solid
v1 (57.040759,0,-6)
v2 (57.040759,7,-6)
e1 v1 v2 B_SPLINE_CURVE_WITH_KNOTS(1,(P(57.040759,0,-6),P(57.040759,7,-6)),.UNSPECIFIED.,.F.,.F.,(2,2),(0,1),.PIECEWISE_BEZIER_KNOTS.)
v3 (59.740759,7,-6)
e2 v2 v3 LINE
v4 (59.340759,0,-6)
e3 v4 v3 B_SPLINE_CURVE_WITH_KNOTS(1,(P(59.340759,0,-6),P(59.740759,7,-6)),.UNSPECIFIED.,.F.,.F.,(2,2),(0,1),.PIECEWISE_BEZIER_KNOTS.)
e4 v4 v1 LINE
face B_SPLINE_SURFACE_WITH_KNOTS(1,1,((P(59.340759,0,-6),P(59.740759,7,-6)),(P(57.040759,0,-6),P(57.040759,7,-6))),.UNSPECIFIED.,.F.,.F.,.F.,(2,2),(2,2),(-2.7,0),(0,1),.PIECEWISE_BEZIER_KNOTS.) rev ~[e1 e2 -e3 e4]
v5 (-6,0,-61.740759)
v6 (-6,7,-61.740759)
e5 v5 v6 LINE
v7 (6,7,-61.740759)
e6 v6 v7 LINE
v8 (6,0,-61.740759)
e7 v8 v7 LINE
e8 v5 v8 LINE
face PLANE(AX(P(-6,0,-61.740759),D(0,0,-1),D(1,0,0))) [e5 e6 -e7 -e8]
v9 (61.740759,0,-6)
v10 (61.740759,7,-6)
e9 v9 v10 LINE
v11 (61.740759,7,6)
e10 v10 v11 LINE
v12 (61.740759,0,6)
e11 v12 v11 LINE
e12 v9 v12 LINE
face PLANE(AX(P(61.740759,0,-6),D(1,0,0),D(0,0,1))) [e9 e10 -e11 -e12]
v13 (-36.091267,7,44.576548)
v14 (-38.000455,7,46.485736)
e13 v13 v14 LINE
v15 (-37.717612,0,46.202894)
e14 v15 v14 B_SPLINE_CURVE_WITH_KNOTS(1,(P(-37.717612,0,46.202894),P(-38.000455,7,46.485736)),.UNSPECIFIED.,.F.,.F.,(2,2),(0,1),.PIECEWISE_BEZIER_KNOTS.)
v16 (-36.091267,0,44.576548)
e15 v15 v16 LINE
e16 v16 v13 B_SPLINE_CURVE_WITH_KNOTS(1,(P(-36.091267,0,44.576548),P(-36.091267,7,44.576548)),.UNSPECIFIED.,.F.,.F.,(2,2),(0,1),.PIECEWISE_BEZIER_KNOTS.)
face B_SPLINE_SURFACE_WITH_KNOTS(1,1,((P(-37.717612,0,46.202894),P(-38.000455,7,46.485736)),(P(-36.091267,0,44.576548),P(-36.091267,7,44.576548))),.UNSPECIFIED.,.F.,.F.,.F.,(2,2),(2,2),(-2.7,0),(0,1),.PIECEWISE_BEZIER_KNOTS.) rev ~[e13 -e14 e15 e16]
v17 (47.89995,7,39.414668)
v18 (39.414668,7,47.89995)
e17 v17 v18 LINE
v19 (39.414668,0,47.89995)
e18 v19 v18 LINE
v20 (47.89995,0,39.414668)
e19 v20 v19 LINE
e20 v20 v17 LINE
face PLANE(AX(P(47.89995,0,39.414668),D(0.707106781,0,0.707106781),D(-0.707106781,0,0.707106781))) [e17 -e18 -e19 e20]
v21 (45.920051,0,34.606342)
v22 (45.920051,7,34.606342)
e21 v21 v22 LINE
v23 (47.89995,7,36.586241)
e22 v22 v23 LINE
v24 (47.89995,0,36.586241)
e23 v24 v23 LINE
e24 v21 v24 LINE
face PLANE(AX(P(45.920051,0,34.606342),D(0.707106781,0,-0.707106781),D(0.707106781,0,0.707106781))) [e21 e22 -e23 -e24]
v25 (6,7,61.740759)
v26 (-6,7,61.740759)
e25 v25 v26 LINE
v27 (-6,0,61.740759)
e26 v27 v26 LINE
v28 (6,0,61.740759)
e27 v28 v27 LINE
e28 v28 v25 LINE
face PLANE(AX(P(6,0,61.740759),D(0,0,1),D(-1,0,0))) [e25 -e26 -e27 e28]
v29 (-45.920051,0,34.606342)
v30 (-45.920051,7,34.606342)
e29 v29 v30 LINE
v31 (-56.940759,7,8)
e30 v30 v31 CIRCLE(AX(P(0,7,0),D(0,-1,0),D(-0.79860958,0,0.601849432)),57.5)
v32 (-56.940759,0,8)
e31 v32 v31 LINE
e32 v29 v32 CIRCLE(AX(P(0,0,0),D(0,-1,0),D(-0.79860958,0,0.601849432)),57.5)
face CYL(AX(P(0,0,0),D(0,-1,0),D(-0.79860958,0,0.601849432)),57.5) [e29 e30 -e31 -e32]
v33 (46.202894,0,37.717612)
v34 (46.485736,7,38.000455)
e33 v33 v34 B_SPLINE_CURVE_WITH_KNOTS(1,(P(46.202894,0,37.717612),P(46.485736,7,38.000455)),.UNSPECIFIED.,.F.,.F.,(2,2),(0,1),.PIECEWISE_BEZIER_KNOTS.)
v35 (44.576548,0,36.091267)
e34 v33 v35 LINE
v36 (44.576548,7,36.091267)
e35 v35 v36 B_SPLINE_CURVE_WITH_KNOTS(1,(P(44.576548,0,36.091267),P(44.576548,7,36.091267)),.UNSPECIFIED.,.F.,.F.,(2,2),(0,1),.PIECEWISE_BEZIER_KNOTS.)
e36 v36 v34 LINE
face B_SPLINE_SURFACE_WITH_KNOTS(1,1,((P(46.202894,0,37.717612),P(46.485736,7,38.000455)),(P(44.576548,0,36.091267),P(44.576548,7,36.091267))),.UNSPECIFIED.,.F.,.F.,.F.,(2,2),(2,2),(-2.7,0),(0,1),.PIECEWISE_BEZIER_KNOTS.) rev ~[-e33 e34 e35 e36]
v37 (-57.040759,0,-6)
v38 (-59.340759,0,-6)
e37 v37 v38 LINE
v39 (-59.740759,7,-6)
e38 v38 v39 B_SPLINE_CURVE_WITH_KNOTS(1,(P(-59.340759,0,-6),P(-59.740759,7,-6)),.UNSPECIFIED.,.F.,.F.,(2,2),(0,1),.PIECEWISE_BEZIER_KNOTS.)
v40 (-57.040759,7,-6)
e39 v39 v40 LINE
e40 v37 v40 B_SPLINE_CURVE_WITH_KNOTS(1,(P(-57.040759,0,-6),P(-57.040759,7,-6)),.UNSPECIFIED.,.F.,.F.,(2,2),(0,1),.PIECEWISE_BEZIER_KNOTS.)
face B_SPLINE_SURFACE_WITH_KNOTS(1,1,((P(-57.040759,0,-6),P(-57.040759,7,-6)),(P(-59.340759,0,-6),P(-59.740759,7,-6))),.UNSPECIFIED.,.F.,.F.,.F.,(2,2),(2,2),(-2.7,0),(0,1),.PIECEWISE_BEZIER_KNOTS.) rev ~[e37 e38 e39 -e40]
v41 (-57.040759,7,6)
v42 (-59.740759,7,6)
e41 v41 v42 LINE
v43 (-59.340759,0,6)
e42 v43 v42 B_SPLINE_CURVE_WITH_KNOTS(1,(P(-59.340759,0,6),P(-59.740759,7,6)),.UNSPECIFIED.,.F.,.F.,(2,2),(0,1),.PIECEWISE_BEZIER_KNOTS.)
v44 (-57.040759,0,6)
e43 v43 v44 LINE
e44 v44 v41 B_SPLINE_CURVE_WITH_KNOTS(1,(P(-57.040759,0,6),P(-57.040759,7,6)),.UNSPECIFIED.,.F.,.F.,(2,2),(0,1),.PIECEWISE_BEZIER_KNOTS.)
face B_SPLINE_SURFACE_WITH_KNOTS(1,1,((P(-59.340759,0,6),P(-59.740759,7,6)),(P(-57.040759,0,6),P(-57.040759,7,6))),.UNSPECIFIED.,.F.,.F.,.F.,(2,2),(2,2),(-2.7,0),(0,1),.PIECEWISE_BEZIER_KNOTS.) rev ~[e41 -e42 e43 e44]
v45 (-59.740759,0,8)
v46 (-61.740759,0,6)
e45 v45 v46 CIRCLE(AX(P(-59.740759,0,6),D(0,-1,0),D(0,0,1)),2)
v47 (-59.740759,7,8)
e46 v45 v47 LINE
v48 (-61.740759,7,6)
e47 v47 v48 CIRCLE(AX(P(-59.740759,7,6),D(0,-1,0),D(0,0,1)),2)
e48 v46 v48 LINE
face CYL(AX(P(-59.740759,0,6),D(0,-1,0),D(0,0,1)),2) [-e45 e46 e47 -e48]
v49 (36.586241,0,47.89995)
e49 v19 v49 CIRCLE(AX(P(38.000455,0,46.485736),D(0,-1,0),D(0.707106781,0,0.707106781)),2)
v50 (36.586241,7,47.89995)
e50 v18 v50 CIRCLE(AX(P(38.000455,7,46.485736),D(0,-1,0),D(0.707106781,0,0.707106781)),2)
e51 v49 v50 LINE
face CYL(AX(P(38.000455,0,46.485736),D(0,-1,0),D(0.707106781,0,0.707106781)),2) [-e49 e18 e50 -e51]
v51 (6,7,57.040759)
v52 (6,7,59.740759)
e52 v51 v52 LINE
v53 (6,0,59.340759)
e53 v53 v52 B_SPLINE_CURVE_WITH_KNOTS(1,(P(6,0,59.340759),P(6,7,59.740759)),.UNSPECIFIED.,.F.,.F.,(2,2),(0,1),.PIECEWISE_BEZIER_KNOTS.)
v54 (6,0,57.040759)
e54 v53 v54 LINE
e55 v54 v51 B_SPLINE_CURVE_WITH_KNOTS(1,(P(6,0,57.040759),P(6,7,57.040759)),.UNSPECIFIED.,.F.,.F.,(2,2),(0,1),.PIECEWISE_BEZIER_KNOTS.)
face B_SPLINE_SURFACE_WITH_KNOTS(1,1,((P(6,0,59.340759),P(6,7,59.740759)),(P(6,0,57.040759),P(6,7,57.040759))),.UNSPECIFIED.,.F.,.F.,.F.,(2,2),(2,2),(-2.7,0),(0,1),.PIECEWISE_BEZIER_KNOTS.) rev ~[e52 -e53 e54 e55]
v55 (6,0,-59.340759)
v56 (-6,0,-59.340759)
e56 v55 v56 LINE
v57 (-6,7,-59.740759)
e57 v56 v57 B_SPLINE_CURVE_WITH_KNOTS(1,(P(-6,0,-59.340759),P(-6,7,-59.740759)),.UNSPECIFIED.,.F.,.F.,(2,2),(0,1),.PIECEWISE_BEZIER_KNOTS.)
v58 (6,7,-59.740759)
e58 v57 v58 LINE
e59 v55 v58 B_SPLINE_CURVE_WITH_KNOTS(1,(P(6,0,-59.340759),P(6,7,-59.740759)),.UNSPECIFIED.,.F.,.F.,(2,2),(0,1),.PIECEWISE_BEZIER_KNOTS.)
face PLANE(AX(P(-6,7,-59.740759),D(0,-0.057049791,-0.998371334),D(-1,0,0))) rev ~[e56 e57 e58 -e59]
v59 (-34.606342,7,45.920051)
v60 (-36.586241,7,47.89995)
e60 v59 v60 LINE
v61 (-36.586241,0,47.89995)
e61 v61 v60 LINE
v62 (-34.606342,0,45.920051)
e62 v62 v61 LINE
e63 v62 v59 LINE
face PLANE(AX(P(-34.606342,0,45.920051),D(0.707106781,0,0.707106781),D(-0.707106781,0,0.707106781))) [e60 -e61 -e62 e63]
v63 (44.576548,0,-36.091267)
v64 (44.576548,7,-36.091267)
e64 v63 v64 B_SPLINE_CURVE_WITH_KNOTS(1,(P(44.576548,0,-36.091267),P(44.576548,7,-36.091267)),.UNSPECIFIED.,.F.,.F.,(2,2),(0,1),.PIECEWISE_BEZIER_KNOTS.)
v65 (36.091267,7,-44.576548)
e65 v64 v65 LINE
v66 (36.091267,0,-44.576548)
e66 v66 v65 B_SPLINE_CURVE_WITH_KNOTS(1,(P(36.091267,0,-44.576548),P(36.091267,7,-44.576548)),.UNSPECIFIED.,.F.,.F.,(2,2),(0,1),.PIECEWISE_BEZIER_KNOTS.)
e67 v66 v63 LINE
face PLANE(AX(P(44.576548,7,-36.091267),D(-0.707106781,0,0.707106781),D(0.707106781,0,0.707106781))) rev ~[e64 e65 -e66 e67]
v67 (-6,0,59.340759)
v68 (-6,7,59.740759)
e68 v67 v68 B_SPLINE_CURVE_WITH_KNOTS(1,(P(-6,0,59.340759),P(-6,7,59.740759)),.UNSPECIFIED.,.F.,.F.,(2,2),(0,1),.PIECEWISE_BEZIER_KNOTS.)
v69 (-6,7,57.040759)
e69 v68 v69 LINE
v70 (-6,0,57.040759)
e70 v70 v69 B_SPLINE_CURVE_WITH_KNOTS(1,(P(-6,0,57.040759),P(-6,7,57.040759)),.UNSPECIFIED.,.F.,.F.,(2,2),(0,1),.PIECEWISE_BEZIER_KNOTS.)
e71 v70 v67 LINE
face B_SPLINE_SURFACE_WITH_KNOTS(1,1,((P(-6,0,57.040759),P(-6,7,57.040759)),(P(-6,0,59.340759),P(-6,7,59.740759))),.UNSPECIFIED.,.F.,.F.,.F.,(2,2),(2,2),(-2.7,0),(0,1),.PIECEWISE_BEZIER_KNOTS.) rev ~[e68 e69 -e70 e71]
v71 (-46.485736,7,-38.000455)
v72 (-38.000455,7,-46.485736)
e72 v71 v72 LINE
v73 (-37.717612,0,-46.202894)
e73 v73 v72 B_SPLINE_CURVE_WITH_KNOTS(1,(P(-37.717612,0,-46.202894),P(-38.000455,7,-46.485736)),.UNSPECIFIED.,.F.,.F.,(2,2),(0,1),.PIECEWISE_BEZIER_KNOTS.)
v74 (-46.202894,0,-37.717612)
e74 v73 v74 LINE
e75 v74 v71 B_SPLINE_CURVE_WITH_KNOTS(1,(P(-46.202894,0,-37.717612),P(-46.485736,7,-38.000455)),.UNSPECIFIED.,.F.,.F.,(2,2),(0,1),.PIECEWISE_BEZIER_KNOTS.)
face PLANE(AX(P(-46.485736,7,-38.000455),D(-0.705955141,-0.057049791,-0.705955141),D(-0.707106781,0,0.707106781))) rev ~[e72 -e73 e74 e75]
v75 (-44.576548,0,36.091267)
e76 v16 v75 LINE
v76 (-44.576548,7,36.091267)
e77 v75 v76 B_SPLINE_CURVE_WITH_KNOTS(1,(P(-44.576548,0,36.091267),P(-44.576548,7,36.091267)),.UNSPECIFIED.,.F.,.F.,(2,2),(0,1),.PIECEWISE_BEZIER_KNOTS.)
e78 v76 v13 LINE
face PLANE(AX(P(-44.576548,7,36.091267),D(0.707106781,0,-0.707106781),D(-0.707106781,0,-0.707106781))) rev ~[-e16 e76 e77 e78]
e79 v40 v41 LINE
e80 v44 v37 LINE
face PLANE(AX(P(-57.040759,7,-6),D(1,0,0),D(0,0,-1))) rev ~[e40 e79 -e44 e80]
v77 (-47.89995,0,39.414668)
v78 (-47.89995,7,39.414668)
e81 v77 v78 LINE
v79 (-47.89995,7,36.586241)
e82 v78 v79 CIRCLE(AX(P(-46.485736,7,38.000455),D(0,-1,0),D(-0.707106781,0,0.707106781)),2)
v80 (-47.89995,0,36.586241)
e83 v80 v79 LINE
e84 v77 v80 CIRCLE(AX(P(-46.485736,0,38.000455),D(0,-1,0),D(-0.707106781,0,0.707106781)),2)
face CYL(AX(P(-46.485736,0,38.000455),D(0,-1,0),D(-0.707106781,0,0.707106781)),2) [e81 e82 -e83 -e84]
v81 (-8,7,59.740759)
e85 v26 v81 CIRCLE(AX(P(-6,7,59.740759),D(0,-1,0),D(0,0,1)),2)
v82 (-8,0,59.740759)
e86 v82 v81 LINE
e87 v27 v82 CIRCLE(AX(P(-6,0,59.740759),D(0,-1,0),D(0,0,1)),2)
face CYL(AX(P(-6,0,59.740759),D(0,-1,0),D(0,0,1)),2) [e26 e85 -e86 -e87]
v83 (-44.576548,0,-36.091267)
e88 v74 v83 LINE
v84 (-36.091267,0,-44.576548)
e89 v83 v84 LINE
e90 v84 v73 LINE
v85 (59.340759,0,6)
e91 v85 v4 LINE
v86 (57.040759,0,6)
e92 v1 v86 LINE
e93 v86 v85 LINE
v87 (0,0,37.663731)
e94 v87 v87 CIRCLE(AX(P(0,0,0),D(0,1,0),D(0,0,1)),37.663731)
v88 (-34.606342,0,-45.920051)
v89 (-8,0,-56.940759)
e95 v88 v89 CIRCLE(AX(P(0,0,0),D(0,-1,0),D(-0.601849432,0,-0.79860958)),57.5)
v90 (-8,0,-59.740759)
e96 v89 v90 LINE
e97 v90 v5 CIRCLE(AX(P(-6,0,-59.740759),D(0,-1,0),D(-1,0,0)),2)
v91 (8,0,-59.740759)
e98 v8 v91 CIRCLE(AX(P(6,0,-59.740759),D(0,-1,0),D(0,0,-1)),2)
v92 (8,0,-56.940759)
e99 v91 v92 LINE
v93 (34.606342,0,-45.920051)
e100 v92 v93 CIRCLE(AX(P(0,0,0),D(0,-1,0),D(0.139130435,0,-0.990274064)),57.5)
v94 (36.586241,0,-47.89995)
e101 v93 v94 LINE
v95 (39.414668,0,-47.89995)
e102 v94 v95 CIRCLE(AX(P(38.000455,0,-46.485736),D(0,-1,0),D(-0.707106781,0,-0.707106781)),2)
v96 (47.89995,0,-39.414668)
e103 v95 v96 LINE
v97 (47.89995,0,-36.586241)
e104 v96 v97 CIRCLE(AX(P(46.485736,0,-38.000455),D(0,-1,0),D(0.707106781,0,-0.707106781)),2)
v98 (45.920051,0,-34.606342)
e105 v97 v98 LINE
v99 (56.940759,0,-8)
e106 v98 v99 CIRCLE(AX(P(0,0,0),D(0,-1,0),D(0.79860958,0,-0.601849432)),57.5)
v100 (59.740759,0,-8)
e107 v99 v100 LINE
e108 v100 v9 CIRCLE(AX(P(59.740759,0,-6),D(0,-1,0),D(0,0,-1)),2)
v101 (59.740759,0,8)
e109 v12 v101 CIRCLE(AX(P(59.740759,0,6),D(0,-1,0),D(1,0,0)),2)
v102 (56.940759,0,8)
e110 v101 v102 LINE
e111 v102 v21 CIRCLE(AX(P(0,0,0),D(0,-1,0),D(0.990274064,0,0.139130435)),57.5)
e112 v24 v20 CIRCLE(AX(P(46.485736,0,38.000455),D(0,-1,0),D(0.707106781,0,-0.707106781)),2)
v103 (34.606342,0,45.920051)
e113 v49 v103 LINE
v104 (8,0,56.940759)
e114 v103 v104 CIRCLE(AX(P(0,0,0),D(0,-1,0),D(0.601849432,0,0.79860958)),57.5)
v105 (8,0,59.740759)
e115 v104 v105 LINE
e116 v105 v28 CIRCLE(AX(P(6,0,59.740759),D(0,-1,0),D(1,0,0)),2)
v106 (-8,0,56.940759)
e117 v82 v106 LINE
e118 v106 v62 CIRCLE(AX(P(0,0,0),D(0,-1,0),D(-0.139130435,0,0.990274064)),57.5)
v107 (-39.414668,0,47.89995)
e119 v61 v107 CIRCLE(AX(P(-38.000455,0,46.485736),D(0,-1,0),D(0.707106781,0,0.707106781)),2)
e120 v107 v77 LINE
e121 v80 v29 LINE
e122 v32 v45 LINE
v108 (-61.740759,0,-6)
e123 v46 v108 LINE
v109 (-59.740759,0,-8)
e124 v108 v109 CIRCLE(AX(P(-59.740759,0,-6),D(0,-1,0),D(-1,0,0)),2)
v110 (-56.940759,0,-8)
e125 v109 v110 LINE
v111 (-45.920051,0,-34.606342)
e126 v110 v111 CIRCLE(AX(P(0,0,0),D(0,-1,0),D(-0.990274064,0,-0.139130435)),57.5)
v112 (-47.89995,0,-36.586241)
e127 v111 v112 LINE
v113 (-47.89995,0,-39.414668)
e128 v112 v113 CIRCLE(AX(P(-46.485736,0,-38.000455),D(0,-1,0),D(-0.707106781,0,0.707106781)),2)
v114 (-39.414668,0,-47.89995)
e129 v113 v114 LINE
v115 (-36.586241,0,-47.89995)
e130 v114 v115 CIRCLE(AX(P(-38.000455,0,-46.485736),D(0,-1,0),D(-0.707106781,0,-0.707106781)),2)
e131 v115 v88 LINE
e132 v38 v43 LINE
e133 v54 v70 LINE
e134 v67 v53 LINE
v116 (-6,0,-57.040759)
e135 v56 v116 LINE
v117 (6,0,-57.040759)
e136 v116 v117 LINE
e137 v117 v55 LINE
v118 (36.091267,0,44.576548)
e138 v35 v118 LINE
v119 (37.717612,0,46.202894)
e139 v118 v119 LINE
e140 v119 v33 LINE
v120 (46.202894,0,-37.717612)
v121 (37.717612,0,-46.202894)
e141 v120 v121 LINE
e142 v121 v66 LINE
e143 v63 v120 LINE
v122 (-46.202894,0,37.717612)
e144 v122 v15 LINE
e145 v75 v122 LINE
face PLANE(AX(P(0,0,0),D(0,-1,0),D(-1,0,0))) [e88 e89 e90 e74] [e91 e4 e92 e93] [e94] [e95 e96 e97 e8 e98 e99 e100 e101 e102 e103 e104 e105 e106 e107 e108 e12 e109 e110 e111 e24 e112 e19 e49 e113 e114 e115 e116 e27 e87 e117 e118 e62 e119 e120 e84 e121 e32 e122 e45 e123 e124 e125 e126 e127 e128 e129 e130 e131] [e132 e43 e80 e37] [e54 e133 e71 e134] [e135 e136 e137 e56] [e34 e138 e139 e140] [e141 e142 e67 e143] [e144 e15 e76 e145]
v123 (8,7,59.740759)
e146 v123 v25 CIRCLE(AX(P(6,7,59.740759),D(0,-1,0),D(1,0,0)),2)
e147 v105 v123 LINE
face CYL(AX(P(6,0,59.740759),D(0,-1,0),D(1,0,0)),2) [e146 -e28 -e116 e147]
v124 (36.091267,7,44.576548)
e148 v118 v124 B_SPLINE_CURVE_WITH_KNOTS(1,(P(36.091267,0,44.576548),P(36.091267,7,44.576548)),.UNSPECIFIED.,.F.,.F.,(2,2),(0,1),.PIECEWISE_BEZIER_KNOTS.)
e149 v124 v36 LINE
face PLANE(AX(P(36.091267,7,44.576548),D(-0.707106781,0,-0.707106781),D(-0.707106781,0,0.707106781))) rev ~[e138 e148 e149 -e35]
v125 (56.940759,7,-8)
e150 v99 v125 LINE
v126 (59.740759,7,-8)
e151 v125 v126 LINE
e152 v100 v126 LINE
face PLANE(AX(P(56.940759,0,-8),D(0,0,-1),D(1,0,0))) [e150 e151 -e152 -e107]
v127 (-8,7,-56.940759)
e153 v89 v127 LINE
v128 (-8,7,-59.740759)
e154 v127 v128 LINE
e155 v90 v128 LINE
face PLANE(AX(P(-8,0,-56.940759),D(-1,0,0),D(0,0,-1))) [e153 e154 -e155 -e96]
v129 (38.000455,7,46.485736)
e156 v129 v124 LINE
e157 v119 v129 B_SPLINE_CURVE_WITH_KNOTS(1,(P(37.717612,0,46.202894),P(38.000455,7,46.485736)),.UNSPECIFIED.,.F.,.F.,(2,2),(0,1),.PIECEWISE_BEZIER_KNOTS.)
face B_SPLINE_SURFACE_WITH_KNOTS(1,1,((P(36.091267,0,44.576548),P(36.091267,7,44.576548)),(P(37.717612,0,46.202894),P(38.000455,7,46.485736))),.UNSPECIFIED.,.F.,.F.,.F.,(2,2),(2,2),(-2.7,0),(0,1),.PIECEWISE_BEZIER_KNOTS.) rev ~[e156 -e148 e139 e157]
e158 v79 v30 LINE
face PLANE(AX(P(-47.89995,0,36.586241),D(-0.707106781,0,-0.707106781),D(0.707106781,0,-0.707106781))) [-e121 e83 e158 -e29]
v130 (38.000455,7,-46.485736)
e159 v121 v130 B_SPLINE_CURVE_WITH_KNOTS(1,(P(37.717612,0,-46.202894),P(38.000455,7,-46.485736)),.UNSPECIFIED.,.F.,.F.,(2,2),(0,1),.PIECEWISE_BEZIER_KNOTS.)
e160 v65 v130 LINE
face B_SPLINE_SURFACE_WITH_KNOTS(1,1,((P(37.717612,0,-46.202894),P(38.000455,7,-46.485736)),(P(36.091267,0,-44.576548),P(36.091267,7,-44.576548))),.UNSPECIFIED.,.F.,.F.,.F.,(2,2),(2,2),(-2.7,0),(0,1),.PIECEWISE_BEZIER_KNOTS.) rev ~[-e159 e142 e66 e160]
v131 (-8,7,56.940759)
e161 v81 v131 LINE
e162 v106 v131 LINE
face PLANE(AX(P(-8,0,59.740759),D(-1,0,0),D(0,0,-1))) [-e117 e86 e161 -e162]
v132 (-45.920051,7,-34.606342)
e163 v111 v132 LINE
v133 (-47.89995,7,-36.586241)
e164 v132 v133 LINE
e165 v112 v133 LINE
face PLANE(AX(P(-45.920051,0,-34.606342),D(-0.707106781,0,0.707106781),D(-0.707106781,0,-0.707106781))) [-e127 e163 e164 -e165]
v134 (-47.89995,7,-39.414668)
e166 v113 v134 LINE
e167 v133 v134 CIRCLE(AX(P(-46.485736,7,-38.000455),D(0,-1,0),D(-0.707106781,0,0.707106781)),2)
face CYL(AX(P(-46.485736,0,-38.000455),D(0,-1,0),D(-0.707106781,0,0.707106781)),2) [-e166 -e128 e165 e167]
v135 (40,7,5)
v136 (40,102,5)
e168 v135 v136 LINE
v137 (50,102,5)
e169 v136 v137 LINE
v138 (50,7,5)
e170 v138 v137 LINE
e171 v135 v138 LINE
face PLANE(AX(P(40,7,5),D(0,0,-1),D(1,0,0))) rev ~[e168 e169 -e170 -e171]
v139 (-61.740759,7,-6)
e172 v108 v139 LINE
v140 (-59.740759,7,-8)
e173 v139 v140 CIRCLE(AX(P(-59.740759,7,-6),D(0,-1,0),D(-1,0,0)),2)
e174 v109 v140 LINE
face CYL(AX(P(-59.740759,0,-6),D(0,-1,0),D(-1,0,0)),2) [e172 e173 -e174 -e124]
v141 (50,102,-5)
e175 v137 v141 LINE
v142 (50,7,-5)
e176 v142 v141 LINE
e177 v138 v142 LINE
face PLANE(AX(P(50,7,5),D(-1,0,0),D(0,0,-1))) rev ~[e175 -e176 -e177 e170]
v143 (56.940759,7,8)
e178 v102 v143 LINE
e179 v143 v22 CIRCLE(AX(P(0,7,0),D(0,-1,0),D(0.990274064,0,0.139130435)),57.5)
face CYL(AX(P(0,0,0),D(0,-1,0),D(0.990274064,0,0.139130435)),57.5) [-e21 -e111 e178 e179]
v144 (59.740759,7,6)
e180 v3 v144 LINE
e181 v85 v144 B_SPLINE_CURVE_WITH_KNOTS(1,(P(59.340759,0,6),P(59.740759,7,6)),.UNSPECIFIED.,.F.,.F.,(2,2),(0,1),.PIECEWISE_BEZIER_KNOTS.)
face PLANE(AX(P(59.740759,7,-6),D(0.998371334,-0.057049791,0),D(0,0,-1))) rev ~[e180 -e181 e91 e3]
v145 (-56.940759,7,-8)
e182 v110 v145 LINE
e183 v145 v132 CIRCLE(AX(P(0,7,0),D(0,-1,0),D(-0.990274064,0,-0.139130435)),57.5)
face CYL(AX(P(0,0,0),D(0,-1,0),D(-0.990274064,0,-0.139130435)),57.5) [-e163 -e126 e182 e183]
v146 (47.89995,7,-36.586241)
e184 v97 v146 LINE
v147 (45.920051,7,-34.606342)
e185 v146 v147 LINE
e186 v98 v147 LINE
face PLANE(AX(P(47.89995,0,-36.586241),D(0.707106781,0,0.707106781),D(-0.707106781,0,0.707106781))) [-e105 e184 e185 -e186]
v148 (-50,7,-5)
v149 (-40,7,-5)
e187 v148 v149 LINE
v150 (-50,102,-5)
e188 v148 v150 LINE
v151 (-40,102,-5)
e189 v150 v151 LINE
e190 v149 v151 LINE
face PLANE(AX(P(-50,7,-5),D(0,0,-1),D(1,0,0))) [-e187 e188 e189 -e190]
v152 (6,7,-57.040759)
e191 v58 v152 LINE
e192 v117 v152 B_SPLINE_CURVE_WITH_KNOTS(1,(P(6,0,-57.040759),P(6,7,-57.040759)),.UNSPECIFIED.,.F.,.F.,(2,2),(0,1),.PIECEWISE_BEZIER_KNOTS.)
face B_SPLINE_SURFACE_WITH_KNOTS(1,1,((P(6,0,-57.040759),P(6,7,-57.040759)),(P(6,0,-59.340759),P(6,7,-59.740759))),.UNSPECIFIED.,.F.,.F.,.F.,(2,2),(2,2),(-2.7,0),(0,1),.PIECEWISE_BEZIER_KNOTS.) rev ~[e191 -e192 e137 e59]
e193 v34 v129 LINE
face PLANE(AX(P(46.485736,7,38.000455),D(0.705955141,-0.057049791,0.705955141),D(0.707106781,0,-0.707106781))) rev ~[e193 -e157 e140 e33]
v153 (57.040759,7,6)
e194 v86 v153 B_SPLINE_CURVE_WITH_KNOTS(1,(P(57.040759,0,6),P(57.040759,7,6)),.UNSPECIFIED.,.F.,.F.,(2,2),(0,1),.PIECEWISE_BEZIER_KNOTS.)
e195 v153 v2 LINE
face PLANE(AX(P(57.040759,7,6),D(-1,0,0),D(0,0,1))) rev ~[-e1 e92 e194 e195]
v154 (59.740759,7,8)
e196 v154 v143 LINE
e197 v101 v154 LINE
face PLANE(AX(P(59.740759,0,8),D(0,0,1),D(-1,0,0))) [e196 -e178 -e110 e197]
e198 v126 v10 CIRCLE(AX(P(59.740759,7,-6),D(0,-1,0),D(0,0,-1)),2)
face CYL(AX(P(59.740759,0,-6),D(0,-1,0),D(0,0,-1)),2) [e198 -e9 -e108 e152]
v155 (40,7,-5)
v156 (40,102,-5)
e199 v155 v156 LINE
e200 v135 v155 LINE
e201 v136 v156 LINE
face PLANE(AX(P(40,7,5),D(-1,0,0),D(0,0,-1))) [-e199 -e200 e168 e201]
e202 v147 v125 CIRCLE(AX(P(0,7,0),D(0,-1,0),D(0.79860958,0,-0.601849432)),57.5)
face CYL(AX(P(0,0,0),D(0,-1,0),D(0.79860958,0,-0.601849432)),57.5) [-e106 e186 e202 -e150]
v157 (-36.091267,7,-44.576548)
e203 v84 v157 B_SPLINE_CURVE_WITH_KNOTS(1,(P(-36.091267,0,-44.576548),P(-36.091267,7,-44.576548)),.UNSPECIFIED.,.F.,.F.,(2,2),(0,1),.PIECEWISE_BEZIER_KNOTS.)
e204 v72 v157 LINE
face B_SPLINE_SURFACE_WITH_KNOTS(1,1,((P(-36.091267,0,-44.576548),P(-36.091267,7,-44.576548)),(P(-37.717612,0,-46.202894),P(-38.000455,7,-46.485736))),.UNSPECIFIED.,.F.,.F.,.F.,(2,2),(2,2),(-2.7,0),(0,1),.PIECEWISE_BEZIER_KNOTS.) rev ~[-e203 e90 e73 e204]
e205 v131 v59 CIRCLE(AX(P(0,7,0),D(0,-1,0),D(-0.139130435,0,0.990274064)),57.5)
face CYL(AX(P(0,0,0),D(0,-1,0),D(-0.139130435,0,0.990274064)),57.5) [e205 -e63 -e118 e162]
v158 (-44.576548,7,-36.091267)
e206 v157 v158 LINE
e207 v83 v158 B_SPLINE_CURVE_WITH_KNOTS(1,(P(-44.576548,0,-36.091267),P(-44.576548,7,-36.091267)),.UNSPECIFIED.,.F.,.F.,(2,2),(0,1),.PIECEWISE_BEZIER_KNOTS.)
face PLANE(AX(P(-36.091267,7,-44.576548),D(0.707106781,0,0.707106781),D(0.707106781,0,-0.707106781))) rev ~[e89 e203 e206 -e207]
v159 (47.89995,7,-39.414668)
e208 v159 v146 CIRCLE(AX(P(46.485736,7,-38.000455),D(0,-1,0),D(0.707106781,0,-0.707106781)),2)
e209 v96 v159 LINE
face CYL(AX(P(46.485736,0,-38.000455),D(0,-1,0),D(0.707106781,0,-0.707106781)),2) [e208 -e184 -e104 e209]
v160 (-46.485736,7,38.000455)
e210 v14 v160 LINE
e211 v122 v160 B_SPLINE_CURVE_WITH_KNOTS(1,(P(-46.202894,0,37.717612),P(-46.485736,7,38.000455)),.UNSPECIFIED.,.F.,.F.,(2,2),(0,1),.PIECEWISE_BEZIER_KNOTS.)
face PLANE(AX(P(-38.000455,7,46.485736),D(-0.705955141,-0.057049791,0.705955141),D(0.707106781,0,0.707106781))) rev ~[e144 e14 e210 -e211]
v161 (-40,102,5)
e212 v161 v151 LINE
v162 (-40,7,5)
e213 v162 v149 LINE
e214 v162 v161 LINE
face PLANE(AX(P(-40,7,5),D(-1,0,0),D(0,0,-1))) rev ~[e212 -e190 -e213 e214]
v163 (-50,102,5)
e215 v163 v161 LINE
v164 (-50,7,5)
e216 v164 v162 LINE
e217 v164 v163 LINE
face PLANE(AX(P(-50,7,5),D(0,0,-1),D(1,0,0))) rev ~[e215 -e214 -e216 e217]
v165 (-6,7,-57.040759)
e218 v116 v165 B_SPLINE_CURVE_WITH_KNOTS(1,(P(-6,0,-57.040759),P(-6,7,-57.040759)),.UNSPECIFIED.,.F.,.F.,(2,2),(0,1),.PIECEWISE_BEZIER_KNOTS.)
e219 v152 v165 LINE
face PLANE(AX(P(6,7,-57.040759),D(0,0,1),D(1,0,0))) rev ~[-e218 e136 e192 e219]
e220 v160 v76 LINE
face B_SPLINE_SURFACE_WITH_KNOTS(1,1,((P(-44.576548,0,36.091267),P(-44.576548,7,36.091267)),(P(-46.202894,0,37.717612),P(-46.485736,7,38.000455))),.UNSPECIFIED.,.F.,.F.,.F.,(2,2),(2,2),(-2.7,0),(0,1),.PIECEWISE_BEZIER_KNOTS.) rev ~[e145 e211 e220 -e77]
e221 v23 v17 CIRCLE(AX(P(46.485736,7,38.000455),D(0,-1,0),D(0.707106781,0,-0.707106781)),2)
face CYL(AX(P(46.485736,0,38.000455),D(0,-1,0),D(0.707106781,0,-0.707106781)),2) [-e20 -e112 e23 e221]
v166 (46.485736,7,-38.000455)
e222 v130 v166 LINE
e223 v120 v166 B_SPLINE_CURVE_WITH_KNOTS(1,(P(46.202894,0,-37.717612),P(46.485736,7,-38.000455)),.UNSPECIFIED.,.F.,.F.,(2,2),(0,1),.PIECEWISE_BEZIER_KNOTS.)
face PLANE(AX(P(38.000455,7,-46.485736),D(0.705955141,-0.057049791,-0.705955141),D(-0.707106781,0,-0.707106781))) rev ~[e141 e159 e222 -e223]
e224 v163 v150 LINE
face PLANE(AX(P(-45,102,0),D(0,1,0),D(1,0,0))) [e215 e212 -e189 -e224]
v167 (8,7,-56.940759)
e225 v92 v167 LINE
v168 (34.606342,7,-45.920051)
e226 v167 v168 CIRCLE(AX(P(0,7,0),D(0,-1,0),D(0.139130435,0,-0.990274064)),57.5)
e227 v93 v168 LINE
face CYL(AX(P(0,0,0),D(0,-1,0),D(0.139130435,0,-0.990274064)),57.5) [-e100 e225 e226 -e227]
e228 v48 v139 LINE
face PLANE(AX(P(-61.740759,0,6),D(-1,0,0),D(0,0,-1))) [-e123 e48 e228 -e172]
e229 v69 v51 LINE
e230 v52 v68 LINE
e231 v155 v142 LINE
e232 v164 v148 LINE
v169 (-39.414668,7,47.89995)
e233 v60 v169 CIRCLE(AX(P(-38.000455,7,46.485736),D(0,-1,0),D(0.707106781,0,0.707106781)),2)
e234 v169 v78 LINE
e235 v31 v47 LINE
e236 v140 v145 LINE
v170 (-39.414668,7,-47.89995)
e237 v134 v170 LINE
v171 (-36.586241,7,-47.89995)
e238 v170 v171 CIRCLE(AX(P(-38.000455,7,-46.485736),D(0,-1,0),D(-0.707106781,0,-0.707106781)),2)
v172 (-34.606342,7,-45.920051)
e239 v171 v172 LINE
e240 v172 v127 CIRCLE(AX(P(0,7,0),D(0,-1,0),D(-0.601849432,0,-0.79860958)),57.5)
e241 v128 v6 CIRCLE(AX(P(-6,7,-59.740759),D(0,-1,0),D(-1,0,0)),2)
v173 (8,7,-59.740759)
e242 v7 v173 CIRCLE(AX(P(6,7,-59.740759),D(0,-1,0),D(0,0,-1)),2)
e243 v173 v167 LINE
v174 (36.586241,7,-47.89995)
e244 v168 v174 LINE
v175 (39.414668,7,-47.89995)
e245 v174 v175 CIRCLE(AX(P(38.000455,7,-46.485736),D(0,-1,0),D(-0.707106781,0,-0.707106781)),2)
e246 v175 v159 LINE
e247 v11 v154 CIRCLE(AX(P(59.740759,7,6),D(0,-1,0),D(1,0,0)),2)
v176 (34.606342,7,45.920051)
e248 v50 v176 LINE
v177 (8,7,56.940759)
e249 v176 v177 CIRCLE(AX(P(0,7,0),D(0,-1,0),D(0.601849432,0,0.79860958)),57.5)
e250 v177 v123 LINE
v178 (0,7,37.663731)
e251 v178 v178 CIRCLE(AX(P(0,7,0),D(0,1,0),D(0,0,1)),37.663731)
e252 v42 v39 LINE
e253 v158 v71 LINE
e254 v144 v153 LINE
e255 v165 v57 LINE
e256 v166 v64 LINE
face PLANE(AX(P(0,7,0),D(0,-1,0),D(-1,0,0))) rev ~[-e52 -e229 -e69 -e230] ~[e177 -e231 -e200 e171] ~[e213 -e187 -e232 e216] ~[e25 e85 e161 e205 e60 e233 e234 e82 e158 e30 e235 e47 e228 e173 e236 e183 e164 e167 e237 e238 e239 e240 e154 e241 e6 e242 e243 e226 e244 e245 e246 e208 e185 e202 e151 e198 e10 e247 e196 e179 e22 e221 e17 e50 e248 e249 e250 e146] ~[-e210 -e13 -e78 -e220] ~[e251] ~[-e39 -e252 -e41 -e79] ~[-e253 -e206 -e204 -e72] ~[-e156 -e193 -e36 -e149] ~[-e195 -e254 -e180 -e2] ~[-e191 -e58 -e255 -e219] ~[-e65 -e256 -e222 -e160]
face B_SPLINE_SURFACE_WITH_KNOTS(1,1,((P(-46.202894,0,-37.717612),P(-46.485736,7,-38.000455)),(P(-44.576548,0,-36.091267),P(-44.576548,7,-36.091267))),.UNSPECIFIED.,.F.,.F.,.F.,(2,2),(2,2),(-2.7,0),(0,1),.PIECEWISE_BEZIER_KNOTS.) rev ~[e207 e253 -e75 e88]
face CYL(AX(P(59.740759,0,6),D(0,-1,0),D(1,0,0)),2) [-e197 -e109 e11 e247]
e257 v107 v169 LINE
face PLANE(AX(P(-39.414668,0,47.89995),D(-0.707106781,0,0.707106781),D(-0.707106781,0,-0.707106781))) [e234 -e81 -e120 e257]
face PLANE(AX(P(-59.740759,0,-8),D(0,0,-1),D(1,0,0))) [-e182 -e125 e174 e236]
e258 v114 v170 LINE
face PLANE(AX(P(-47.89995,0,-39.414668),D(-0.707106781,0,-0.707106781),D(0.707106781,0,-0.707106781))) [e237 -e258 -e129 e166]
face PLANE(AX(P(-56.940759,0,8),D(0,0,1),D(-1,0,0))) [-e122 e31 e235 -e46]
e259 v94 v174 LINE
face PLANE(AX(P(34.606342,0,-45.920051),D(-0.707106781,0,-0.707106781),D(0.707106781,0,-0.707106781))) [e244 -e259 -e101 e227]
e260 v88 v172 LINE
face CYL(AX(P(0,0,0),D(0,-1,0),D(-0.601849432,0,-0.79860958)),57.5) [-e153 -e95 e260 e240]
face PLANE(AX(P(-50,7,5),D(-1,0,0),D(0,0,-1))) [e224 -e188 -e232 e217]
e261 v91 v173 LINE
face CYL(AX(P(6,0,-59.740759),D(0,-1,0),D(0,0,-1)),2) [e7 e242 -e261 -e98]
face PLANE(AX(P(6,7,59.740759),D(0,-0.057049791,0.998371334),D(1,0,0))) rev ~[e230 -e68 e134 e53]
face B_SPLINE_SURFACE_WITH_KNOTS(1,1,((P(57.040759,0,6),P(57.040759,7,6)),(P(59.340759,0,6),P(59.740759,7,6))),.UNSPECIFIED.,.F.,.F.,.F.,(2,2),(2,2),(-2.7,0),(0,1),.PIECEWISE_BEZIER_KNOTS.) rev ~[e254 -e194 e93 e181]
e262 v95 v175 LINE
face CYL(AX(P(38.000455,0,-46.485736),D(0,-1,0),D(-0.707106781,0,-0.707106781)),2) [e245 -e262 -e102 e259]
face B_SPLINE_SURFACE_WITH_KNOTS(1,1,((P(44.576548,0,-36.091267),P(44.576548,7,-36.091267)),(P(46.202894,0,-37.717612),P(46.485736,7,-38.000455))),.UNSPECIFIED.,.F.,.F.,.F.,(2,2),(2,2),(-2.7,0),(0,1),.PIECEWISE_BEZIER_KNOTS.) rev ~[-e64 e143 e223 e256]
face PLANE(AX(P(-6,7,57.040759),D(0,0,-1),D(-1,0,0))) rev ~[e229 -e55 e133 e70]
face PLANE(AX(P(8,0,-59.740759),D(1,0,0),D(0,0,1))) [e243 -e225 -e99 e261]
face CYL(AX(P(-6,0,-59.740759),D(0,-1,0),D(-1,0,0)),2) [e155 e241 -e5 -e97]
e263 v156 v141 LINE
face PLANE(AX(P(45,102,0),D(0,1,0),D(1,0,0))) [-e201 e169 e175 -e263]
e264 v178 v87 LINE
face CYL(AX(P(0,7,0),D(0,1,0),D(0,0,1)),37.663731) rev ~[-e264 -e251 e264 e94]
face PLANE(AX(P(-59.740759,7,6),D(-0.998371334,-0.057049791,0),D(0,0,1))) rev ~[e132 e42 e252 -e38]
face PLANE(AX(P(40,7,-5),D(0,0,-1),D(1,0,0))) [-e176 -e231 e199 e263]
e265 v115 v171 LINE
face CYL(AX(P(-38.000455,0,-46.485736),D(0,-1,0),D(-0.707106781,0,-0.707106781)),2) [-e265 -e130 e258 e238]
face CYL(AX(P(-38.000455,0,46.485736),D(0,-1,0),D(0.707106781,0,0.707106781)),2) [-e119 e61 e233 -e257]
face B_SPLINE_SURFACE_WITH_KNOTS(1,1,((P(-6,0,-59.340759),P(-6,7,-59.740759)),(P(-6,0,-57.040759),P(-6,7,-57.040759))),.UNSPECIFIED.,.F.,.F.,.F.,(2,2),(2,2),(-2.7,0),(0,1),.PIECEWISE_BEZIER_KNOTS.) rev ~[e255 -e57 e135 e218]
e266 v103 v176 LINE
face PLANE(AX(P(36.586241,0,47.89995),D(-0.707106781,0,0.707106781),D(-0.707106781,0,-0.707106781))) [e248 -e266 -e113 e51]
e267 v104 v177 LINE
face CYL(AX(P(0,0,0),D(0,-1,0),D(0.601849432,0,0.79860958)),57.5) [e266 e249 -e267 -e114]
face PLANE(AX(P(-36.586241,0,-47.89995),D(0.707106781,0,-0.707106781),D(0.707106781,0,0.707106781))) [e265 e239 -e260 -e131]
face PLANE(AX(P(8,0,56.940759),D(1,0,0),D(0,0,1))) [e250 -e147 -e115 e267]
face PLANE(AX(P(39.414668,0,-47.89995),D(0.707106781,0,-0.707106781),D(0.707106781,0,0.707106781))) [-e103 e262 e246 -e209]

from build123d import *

# Parameters (mm, degrees)
BOSS_EXTRUDE1_DEPTH = 7
SKETCH2_W           = 10
SKETCH2_H           = 10
BOSS_EXTRUDE2_DEPTH = 95
SKETCH3_R           = 37.663730654
CUT_EXTRUDE1_DEPTH  = 130.030393965
CIRPATTERN1_COUNT   = 8


with BuildPart() as part:
    # Sketch1 → Boss-Extrude1 (new body)
    with BuildSketch(Plane(origin=(0, 0, 0), x_dir=(1, 0, 0), z_dir=(0, 1, 0))):
        with BuildLine():
            Line((-8, 56.940758688), (-8, 59.740758688))
            ThreePointArc((-8, 59.740758688), (-7.414213562, 61.154972251), (-6, 61.740758688))
            Line((-6, 61.740758688), (6, 61.740758688))
            ThreePointArc((6, 61.740758688), (7.414213562, 61.154972251), (8, 59.740758688))
            Line((8, 59.740758688), (8, 56.940758688))
            ThreePointArc((8, 56.940758688), (22.004297361, 53.123073119), (34.606342345, 45.920050844))
            Line((34.606342345, 45.920050844), (36.586241332, 47.899949831))
            ThreePointArc((36.586241332, 47.899949831), (38.000454895, 48.485736269), (39.414668457, 47.899949831))
            Line((39.414668457, 47.899949831), (47.899949831, 39.414668457))
            ThreePointArc((47.899949831, 39.414668457), (48.485736269, 38.000454895), (47.899949831, 36.586241332))
            Line((47.899949831, 36.586241332), (45.920050844, 34.606342345))
            ThreePointArc((45.920050844, 34.606342345), (53.123073119, 22.004297361), (56.940758688, 8))
            Line((56.940758688, 8), (59.740758688, 8))
            ThreePointArc((59.740758688, 8), (61.154972251, 7.414213562), (61.740758688, 6))
            Line((61.740758688, 6), (61.740758688, -6))
            ThreePointArc((61.740758688, -6), (61.154972251, -7.414213562), (59.740758688, -8))
            Line((59.740758688, -8), (56.940758688, -8))
            ThreePointArc((56.940758688, -8), (53.123073119, -22.004297361), (45.920050844, -34.606342345))
            Line((45.920050844, -34.606342345), (47.899949831, -36.586241332))
            ThreePointArc((47.899949831, -36.586241332), (48.485736269, -38.000454895), (47.899949831, -39.414668457))
            Line((47.899949831, -39.414668457), (39.414668457, -47.899949831))
            ThreePointArc((39.414668457, -47.899949831), (38.000454895, -48.485736269), (36.586241332, -47.899949831))
            Line((36.586241332, -47.899949831), (34.606342345, -45.920050844))
            ThreePointArc((34.606342345, -45.920050844), (22.004297361, -53.123073119), (8, -56.940758688))
            Line((8, -56.940758688), (8, -59.740758688))
            ThreePointArc((8, -59.740758688), (7.414213562, -61.154972251), (6, -61.740758688))
            Line((6, -61.740758688), (-6, -61.740758688))
            ThreePointArc((-6, -61.740758688), (-7.414213562, -61.154972251), (-8, -59.740758688))
            Line((-8, -59.740758688), (-8, -56.940758688))
            ThreePointArc((-8, -56.940758688), (-22.004297361, -53.123073119), (-34.606342345, -45.920050844))
            Line((-34.606342345, -45.920050844), (-36.586241332, -47.899949831))
            ThreePointArc((-36.586241332, -47.899949831), (-38.000454895, -48.485736269), (-39.414668457, -47.899949831))
            Line((-39.414668457, -47.899949831), (-47.899949831, -39.414668457))
            ThreePointArc((-47.899949831, -39.414668457), (-48.485736269, -38.000454895), (-47.899949831, -36.586241332))
            Line((-47.899949831, -36.586241332), (-45.920050844, -34.606342345))
            ThreePointArc((-45.920050844, -34.606342345), (-53.123073119, -22.004297361), (-56.940758688, -8))
            Line((-56.940758688, -8), (-59.740758688, -8))
            ThreePointArc((-59.740758688, -8), (-61.154972251, -7.414213562), (-61.740758688, -6))
            Line((-61.740758688, -6), (-61.740758688, 6))
            ThreePointArc((-61.740758688, 6), (-61.154972251, 7.414213562), (-59.740758688, 8))
            Line((-59.740758688, 8), (-56.940758688, 8))
            ThreePointArc((-56.940758688, 8), (-53.123073119, 22.004297361), (-45.920050844, 34.606342345))
            Line((-45.920050844, 34.606342345), (-47.899949831, 36.586241332))
            ThreePointArc((-47.899949831, 36.586241332), (-48.485736269, 38.000454895), (-47.899949831, 39.414668457))
            Line((-47.899949831, 39.414668457), (-39.414668457, 47.899949831))
            ThreePointArc((-39.414668457, 47.899949831), (-38.000454895, 48.485736269), (-36.586241332, 47.899949831))
            Line((-36.586241332, 47.899949831), (-34.606342345, 45.920050844))
            ThreePointArc((-34.606342345, 45.920050844), (-22.004297361, 53.123073119), (-8, 56.940758688))
        make_face()
    extrude(amount=BOSS_EXTRUDE1_DEPTH)

    # Sketch2 → Boss-Extrude2 (add)
    with BuildSketch(Plane(origin=(0, 7, 0), x_dir=(1, 0, 0), z_dir=(0, 1, 0))):
        with Locations((45, 0)):
            Rectangle(SKETCH2_W, SKETCH2_H)
        with Locations((-45, 0)):
            Rectangle(SKETCH2_W, SKETCH2_H)
    extrude(amount=BOSS_EXTRUDE2_DEPTH)

    # Sketch3 → Cut-Extrude1 (cut, through all)
    with BuildSketch(Plane(origin=(0, 7, 0), x_dir=(1, 0, 0), z_dir=(0, 1, 0))):
        with Locations(Location((0, 0, 0), (0, 0, 270))):
            Circle(SKETCH3_R)
    extrude(amount=-CUT_EXTRUDE1_DEPTH, mode=Mode.SUBTRACT)

    # Sketch7 → Cut-Loft1 section 0
    with BuildSketch(Plane.XZ):
        with BuildLine():
            Line((-6, -57.040758688), (6, -57.040758688))
            Line((6, -57.040758688), (6, -59.340758688))
            Line((6, -59.340758688), (-6, -59.340758688))
            Line((-6, -59.340758688), (-6, -57.040758688))
        make_face()
    # Sketch5 → Cut-Loft1 section 1
    with BuildSketch(Plane(origin=(0, 7, 0), x_dir=(1, 0, 0), z_dir=(0, 1, 0))):
        with BuildLine():
            Line((-6, 59.740758688), (6, 59.740758688))
            Line((6, 59.740758688), (6, 57.040758688))
            Line((6, 57.040758688), (-6, 57.040758688))
            Line((-6, 57.040758688), (-6, 59.740758688))
        make_face()
    cut_loft1 = loft(mode=Mode.SUBTRACT)

    # CirPattern1: Cut-Loft1 ×8 about axis
    cirpattern1_axis = Axis((0, 0, 0), (0, 1, 0))
    for i in range(1, CIRPATTERN1_COUNT):
        add(cut_loft1.rotate(cirpattern1_axis, i * 360 / CIRPATTERN1_COUNT), mode=Mode.SUBTRACT)


solid = part.part
